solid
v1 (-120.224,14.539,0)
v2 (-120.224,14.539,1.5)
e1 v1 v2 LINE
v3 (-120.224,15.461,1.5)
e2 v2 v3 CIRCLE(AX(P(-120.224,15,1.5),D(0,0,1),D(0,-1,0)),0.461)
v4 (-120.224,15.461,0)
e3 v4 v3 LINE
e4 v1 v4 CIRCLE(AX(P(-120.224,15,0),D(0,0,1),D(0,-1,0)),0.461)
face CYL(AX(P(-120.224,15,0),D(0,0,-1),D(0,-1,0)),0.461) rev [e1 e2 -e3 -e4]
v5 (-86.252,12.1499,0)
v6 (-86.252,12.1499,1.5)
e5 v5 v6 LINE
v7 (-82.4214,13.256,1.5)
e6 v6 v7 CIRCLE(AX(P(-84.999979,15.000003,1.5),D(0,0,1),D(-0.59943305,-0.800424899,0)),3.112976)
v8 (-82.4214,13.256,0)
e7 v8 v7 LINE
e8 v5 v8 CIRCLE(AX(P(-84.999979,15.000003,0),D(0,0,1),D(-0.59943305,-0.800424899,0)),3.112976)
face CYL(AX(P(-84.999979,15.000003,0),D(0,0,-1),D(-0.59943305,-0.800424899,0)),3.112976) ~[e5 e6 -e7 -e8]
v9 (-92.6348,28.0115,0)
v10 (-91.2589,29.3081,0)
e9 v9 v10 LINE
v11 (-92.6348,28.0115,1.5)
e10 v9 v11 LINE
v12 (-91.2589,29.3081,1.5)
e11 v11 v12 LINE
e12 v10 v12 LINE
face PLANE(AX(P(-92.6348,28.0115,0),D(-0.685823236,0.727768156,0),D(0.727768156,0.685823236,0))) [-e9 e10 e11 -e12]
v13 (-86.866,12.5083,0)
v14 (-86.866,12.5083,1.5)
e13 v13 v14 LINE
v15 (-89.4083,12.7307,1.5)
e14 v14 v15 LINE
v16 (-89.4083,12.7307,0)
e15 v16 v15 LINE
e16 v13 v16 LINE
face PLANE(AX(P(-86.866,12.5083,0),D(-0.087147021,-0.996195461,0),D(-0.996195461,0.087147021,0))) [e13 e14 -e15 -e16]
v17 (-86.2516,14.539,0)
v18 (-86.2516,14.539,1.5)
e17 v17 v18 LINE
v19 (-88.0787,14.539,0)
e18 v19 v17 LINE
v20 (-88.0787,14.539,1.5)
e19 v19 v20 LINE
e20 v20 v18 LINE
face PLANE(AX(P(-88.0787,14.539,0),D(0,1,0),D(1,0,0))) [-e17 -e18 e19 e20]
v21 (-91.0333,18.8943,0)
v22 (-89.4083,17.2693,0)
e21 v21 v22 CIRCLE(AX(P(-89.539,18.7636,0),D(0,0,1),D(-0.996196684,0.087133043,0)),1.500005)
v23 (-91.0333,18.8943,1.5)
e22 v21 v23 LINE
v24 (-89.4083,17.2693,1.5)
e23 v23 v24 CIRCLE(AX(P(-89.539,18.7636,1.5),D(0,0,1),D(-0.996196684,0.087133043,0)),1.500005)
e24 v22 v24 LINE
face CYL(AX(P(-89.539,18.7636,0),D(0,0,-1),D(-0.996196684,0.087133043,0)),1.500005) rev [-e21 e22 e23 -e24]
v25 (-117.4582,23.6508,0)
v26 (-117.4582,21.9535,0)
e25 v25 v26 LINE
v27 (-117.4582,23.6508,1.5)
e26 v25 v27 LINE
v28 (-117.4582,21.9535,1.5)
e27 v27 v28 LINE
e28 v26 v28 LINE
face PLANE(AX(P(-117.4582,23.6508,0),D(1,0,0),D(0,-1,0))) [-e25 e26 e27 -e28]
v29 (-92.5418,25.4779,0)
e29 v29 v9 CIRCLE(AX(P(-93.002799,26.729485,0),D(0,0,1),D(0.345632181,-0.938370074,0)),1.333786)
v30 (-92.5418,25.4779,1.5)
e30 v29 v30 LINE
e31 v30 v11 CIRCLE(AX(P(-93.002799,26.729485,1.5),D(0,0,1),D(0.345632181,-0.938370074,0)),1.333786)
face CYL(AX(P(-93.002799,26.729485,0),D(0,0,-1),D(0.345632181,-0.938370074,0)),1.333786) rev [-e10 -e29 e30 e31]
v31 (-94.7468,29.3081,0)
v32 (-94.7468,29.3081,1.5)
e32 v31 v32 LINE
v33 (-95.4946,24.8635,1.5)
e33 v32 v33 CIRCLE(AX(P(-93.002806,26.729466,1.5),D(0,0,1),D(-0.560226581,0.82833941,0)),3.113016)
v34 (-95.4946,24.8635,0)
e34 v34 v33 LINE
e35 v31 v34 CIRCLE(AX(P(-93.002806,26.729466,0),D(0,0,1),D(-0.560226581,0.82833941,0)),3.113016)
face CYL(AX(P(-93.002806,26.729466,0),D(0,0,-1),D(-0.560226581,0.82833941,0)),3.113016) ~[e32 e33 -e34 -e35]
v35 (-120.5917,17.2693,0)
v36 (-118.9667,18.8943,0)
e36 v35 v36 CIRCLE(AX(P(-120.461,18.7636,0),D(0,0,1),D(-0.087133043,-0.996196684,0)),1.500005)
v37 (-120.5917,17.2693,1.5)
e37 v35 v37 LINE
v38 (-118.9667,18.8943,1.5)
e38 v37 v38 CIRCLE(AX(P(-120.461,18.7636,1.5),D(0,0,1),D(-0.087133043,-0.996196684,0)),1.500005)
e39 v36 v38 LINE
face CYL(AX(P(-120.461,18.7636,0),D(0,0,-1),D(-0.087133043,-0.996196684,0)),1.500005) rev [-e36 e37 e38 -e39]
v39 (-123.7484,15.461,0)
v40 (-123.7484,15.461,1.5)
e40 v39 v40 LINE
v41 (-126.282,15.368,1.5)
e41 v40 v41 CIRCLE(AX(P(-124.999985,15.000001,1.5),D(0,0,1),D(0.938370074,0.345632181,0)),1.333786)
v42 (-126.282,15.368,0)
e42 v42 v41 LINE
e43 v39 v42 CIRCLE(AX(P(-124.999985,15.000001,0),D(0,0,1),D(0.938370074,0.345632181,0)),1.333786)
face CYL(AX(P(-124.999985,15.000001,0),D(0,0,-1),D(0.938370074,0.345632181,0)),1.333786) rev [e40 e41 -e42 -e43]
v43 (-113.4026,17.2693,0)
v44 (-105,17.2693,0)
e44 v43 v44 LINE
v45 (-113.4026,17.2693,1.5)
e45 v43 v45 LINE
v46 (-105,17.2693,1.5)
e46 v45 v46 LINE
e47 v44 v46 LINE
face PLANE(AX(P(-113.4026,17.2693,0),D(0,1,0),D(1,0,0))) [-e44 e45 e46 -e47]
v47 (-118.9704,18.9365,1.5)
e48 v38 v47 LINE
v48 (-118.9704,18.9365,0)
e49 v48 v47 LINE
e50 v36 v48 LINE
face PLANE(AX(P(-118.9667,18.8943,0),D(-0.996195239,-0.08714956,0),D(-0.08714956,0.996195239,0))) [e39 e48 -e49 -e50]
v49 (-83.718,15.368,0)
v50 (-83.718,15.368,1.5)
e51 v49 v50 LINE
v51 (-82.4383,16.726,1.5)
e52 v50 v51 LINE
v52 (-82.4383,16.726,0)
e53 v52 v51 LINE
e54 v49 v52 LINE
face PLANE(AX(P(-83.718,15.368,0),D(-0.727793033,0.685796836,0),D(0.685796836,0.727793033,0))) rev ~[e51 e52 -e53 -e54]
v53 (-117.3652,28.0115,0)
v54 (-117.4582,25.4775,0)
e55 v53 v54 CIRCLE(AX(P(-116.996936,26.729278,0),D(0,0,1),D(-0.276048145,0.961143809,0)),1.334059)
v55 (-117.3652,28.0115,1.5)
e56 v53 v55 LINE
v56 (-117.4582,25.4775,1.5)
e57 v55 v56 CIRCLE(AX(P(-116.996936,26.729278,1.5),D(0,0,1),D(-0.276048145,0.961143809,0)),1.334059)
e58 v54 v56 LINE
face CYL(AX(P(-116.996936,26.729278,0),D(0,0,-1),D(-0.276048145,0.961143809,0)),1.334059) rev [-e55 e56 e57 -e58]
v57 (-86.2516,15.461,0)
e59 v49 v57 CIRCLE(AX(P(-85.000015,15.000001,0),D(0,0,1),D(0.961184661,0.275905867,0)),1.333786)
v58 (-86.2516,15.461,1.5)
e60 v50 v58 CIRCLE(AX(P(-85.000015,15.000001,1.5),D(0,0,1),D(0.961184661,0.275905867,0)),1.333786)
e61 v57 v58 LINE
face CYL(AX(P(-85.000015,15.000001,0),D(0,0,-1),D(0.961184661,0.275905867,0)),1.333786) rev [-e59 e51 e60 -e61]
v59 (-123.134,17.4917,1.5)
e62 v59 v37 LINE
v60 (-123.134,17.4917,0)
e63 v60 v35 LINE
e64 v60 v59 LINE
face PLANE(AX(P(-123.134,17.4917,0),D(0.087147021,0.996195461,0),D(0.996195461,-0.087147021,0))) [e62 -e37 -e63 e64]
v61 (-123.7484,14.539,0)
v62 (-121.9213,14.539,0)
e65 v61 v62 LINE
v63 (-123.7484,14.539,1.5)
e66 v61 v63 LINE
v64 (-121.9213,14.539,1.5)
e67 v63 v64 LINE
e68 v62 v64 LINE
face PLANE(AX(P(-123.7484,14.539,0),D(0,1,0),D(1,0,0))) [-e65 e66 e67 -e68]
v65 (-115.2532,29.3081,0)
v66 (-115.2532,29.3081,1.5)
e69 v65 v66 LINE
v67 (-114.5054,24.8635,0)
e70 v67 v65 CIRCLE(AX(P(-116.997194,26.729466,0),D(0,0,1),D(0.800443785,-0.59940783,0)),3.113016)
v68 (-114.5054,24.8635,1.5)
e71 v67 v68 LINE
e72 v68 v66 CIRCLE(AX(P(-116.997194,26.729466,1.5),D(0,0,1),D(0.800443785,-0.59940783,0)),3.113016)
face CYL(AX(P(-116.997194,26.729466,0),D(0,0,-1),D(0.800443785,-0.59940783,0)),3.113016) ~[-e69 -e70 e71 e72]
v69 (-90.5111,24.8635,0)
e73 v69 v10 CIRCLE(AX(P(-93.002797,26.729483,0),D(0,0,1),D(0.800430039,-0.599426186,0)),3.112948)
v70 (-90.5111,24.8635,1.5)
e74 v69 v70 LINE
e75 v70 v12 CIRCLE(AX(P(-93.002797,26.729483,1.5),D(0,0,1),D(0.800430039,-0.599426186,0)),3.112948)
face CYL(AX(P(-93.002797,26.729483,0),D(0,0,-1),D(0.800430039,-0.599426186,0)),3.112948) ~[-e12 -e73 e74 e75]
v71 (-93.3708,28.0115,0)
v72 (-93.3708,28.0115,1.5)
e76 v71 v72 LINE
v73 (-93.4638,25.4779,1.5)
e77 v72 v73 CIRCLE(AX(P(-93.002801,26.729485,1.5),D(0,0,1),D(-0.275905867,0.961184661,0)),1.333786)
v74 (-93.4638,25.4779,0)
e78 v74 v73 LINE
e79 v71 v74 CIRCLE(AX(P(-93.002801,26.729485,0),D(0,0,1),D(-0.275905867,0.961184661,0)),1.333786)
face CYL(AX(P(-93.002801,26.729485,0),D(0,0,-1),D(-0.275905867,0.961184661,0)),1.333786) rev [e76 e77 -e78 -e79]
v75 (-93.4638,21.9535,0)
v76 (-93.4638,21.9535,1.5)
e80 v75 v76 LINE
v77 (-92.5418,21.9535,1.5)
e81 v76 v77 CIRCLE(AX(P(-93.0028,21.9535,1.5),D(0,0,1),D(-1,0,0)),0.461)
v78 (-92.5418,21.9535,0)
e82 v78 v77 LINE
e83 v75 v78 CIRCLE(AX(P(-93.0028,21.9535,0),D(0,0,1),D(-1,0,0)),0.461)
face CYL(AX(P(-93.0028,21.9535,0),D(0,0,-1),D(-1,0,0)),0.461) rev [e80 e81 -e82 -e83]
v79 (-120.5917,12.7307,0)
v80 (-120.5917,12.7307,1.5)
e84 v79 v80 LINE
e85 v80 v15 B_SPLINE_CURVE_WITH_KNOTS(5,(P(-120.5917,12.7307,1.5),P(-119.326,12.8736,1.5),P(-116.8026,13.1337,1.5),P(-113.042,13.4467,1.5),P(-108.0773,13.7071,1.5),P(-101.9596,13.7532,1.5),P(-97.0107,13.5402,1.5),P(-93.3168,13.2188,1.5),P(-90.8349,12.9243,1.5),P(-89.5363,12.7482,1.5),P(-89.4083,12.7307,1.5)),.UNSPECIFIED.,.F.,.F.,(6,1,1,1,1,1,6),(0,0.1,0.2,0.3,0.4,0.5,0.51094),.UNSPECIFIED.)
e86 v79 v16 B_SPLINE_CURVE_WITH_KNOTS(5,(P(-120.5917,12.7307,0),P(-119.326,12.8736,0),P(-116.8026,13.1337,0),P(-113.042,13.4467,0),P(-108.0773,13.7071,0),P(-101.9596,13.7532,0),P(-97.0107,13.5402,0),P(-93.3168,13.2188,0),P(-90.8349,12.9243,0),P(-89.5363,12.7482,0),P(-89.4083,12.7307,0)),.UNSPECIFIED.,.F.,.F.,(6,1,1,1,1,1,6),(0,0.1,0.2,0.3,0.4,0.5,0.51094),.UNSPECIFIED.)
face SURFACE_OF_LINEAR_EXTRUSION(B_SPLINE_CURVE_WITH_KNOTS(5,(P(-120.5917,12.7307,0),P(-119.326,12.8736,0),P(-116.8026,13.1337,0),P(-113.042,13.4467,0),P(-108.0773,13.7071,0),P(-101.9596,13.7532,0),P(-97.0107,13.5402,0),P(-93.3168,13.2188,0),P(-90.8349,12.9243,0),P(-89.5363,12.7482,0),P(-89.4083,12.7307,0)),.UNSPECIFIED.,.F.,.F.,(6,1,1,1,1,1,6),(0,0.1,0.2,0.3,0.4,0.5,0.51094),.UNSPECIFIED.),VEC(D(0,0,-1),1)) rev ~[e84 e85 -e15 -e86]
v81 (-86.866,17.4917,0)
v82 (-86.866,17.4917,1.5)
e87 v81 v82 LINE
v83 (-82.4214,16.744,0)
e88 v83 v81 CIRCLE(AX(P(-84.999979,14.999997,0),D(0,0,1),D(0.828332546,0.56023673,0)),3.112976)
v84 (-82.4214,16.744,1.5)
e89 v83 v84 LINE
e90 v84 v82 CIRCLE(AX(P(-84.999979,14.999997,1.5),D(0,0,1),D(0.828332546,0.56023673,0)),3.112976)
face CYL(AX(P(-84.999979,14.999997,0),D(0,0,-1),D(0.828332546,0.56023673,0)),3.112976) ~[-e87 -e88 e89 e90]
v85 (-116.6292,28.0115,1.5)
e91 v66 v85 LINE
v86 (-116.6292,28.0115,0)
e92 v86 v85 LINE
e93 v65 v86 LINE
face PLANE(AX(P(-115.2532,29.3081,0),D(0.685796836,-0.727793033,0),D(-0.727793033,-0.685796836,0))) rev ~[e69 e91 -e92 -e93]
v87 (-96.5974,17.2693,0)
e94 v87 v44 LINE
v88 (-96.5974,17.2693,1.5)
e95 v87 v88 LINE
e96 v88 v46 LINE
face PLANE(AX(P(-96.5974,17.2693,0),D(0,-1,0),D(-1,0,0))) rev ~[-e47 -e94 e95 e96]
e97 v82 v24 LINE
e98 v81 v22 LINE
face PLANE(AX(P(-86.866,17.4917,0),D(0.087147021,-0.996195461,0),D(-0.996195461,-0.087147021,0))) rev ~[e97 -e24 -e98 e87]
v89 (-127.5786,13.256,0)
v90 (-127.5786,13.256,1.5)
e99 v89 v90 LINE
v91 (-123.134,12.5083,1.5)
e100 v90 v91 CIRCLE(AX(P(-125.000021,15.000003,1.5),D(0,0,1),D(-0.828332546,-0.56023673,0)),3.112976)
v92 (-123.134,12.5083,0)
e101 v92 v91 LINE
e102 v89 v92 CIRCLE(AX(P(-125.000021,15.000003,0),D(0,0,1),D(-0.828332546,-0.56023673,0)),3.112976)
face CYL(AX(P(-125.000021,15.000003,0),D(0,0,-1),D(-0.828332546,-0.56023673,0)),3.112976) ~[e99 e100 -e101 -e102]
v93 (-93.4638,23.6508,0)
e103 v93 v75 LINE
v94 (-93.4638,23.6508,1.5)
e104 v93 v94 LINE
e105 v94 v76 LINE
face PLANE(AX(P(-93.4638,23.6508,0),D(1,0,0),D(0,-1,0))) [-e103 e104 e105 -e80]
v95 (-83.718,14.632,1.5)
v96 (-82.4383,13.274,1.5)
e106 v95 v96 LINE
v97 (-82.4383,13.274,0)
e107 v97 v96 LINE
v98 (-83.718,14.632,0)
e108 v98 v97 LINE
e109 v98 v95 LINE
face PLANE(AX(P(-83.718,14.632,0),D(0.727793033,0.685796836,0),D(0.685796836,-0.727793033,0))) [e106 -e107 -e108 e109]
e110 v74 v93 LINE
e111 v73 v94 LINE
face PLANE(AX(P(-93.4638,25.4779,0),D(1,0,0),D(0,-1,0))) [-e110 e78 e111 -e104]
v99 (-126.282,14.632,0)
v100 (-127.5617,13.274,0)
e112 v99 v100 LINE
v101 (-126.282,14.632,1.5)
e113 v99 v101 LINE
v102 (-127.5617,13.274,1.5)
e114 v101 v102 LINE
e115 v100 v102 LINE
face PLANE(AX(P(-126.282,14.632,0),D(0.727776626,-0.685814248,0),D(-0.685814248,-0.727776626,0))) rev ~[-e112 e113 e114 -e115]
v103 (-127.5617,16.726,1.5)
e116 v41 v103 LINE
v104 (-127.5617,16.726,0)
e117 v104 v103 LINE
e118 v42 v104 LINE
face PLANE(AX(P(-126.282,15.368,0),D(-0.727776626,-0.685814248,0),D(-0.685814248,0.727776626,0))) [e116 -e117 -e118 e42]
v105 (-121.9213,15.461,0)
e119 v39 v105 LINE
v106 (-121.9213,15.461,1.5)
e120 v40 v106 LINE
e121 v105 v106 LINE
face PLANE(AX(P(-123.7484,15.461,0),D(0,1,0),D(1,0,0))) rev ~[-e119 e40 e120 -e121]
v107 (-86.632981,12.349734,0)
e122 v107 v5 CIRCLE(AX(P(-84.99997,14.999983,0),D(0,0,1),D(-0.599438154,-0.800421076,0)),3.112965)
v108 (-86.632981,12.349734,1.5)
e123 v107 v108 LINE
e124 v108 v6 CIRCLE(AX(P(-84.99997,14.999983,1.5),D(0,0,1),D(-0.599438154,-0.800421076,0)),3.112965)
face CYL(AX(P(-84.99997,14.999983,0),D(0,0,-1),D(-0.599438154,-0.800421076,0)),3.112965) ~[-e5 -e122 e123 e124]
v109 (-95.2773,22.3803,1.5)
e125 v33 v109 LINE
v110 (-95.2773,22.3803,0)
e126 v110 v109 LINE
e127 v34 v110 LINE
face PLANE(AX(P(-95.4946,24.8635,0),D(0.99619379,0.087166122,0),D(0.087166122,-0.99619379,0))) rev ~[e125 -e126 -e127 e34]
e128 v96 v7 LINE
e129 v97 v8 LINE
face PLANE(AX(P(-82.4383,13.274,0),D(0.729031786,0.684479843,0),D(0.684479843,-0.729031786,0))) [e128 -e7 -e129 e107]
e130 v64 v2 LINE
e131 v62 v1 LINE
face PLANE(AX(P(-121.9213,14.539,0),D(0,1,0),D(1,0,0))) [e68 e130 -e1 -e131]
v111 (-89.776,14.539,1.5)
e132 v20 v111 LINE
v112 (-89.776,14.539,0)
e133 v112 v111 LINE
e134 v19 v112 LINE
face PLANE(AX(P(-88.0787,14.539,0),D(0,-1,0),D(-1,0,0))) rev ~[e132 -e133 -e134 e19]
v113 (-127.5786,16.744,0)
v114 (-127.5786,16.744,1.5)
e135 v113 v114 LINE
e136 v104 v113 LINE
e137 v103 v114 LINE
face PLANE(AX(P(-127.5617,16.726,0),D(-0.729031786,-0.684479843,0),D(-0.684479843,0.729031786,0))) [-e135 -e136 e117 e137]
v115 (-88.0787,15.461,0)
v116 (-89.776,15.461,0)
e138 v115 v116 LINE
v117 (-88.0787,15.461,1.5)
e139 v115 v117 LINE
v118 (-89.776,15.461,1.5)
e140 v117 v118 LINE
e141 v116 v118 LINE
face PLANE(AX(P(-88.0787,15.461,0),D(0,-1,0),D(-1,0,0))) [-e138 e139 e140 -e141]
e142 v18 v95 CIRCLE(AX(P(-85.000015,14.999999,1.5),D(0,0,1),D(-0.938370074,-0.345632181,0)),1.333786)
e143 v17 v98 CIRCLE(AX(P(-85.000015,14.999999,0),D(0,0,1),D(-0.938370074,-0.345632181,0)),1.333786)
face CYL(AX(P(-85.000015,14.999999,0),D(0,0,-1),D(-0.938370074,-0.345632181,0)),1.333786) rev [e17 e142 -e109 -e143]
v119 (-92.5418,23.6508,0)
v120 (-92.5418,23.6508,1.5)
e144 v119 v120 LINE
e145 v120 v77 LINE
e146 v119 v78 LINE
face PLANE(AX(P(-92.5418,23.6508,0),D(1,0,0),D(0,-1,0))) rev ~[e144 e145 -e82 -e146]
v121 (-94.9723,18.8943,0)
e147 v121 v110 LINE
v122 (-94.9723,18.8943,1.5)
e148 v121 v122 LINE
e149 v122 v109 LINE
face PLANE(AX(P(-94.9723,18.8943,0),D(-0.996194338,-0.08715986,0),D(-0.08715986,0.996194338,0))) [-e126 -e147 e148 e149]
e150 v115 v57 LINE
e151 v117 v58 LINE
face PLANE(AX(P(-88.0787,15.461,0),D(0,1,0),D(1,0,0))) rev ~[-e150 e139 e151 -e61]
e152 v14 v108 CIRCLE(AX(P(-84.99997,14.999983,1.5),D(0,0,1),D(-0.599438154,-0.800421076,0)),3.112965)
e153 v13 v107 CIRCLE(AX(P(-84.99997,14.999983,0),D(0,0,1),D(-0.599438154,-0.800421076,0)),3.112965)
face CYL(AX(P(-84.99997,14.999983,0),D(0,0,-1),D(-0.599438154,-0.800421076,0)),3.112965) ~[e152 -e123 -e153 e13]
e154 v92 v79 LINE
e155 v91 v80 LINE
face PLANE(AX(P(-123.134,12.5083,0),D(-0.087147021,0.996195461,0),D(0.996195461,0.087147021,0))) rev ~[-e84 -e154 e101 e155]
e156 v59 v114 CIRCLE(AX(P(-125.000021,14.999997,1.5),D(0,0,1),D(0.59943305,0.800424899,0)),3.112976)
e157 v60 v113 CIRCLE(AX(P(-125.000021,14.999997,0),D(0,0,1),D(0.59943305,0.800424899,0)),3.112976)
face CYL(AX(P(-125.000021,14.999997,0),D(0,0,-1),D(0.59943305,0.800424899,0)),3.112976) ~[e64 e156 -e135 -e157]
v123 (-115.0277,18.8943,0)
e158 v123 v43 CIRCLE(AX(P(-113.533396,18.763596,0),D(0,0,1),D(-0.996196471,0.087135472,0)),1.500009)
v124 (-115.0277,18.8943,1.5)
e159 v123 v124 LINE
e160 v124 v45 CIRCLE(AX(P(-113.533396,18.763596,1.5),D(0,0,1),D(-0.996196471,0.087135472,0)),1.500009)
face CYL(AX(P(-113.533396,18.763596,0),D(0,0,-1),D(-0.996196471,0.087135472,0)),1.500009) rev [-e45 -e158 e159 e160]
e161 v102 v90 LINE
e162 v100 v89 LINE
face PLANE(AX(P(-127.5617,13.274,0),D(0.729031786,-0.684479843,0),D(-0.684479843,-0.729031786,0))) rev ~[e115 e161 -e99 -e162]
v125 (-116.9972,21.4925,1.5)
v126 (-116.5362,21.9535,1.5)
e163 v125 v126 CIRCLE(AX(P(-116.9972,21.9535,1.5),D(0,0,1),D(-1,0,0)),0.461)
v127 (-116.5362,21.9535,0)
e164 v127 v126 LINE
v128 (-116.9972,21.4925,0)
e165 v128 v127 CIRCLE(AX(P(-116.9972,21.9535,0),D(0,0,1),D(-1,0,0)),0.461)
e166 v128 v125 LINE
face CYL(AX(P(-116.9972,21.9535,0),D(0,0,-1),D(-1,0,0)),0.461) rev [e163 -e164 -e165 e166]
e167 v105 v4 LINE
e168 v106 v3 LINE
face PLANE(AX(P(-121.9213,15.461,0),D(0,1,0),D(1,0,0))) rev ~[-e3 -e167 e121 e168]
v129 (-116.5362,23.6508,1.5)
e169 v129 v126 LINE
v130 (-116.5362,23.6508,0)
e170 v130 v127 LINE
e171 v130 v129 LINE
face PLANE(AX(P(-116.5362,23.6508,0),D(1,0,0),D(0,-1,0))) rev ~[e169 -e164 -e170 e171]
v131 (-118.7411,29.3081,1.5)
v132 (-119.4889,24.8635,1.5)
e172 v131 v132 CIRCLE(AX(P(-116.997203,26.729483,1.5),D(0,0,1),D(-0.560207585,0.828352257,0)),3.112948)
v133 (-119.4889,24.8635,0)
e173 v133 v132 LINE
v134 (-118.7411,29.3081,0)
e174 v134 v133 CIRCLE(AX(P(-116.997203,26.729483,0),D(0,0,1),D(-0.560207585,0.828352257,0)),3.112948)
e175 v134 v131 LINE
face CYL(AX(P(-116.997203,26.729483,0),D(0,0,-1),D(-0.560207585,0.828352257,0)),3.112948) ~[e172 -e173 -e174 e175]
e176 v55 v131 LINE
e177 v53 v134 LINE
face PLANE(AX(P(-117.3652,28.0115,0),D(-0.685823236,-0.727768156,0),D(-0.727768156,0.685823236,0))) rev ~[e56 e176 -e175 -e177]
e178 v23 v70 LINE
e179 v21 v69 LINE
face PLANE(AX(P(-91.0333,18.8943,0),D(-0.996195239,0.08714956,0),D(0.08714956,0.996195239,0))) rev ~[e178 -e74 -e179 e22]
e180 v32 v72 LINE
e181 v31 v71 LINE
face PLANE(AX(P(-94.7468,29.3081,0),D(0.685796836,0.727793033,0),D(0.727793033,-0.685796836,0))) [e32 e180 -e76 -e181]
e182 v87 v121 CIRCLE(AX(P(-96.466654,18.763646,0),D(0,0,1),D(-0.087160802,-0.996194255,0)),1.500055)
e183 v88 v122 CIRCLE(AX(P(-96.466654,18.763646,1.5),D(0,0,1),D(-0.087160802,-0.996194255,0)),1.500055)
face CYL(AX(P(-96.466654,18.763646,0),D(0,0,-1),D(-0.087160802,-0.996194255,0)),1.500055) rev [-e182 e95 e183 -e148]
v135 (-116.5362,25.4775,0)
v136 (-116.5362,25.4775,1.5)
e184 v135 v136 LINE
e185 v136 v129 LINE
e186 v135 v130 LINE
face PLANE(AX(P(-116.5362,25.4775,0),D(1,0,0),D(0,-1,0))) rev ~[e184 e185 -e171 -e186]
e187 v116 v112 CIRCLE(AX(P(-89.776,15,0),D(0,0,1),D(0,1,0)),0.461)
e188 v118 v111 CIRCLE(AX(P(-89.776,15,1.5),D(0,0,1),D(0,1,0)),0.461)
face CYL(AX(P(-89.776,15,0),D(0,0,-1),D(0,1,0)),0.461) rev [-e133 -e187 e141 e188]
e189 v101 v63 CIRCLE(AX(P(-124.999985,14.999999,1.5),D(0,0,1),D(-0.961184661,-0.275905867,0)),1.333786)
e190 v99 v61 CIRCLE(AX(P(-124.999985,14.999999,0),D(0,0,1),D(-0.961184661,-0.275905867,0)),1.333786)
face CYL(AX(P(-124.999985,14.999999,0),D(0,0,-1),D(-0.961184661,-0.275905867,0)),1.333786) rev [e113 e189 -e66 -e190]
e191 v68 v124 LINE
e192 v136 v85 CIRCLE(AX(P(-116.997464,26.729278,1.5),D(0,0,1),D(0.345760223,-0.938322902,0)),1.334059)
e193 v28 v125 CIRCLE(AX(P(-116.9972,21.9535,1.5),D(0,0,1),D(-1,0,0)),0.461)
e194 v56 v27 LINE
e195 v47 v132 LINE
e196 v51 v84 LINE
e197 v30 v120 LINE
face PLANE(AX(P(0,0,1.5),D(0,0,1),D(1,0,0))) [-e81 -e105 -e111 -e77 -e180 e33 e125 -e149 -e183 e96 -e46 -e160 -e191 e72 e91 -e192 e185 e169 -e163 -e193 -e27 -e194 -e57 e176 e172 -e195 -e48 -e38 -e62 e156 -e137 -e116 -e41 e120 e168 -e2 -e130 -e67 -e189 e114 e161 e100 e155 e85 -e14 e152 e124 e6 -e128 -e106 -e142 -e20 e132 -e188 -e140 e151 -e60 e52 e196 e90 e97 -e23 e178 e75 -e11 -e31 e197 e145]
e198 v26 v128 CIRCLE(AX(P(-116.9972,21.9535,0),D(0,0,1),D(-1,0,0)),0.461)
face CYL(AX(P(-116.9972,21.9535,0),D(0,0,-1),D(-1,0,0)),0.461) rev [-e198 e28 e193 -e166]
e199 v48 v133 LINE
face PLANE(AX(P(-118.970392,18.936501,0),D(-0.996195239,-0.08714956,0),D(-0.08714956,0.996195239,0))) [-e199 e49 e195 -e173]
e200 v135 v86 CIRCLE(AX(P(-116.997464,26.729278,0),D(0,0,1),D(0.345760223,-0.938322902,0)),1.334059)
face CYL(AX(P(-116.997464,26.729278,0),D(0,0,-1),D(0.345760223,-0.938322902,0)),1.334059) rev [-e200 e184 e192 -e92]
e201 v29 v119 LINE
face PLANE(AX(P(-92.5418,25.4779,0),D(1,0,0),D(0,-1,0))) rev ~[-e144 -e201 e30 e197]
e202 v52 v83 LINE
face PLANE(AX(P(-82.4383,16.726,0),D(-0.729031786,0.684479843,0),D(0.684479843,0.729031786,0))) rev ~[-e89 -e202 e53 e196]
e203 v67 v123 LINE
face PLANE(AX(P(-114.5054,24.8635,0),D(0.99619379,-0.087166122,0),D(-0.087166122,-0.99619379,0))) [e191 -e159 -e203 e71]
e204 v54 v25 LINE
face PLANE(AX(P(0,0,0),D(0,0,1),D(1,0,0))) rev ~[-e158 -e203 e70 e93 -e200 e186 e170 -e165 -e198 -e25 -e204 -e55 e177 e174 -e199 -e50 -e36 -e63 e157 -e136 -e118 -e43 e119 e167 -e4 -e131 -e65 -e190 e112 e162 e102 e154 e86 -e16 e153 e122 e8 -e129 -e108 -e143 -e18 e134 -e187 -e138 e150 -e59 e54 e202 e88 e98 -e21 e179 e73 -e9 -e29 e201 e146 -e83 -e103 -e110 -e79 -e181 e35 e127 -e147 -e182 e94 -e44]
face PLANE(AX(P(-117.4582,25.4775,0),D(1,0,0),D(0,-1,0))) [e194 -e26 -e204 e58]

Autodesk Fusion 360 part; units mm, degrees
sketch "top view" plane through (0, 0, 0) normal (0, 0, 1) x (1, 0, 0)
  line L0 (-105, 33) -> (-105, -11) construction
  line L1 (-125, 15) -> (-126.282, 15) construction
  line L2 (-126.282, 15) -> (-126.282, 15.368) construction
  line L3 (-126.282, 15.368) -> (-127.5617, 16.726)
  line L4 (-126.282, 15.368) -> (-124.416, 15.368) construction
  line L5 (-127.5617, 16.726) -> (-127.5786, 16.744)
  line L6 (-126.282, 14.632) -> (-127.5617, 13.274)
  line L7 (-127.5617, 13.274) -> (-127.5786, 13.256)
  line L8 (-125, 15) -> (-123.748, 15) construction
  line L9 (-123.748, 15) -> (-123.748, 17.8501) construction
  line L10 (-123.748, 15) -> (-123.748, 12.1499) construction
  line L11 (-123.748, 15) -> (-123.748, 15.461) construction
  line L12 (-123.748, 15) -> (-123.748, 14.539) construction
  arc A0 (-126.282, 14.632) -> (-123.7484, 14.539) centre (-125, 15) ccw
  arc A1 (-123.7484, 15.461) -> (-126.282, 15.368) centre (-125, 15) ccw
  line L13 (-121.9213, 15.461) -> (-120.224, 15.461)
  line L14 (-121.9213, 14.539) -> (-120.224, 14.539)
  arc A2 (-127.5786, 13.256) -> (-123.134, 12.5083) centre (-125, 15) ccw
  arc A3 (-123.134, 17.4917) -> (-127.5786, 16.744) centre (-125, 15) ccw
  arc A4 (-120.224, 14.539) -> (-120.224, 15.461) centre (-120.224, 15) ccw
  line L15 (-125, 15) -> (-123.134, 15) construction
  line L16 (-123.134, 15) -> (-123.134, 17.4917) construction
  line L17 (-123.134, 17.4917) -> (-120.5917, 17.2693)
  line L18 (-123.134, 17.4917) -> (-120.582, 17.4917) construction
  line L19 (-123.134, 12.5083) -> (-120.5917, 12.7307)
  line L20 (-118.9667, 18.8943) -> (-119.4889, 24.8635)
  line L21 (-118.9667, 18.8943) -> (-111.0132, 18.8943) construction
  line L22 (-123.134, 17.4917) -> (-118.737, 17.4917) construction
  line L23 (-118.9667, 18.8942) -> (-118.9667, 18.8942)
  arc A5 (-120.5917, 17.2693) -> (-118.9667, 18.8943) centre (-120.461, 18.7636) ccw
  line L24 (-119.4004, 17.7029) -> (-121.3897, 15.7137) construction
  line L25 (-119.4004, 17.7029) -> (-116.4958, 14.7981) construction
  line L26 (-123.748, 15.461) -> (-121.9213, 15.461)
  line L27 (-123.748, 14.539) -> (-121.9213, 14.539)
  arc A6 (-117.4582, 21.9535) -> (-116.9972, 21.4925) centre (-116.9972, 21.9535) ccw
  line L28 (-116.9972, 20.106) -> (-116.9972, 11.6268) construction
  arc A7 (-115.0277, 18.8943) -> (-113.4026, 17.2693) centre (-113.5334, 18.7636) ccw
  line L29 (-113.4026, 17.2693) -> (-105, 17.2693)
  line L30 (-105, 33) -> (-105, -11) construction
  line L31 (-96.5974, 17.2693) -> (-105, 17.2693)
  arc A8 (-96.5974, 17.2693) -> (-94.9723, 18.8943) centre (-96.4667, 18.7636) ccw
  line L32 (-94.9723, 18.8943) -> (-95.2773, 22.3803)
  line L33 (-93.0028, 20.106) -> (-93.0028, 11.6268) construction
  line L34 (-91.7911, 18.8943) -> (-98.9868, 18.8943) construction
  line L35 (-91.0333, 17.2692) -> (-93.5042, 14.7981) construction
  line L36 (-91.0333, 17.4917) -> (-91.263, 17.4917) construction
  line L37 (-82.4383, 16.726) -> (-82.4214, 16.744)
  line L38 (-83.718, 15) -> (-83.718, 15.368) construction
  arc A9 (-86.866, 12.5083) -> (-86.252, 12.1499) centre (-85, 15) ccw
  line L39 (-91.0333, 18.8943) -> (-91.0333, 18.8943)
  line L40 (-82.4383, 13.274) -> (-82.4214, 13.256)
  spline S0 degree 5 poles (-120.5917, 12.7307) (-119.326, 12.8736) (-116.8026, 13.1337) (-113.042, 13.4467) (-108.0773, 13.7071) (-101.9596, 13.7532) (-97.0107, 13.5402) (-93.3168, 13.2188) (-90.8349, 12.9243) (-89.5363, 12.7482) (-89.4083, 12.7307) knots 0 0 0 0 0 0 0.1 0.2 0.3 0.4 0.5 0.51094 0.51094 0.51094 0.51094 0.51094 0.51094
  line L41 (-92.4447, 13.1474) -> (-86.3719, 12.3139)
  line L42 (-123.748, 14.539) -> (-123.7484, 14.539)
  line L43 (-123.748, 15.461) -> (-123.7484, 15.461)
  line L44 (-116.5362, 25.4775) -> (-116.5362, 25.4779)
  line L45 (-117.4582, 25.4775) -> (-117.4582, 25.4779)
  line L46 (-115.0277, 18.8943) -> (-115.0278, 18.8929)
  line L47 (-118.9704, 18.9365) -> (-118.9667, 18.8943)
  line L48 (-119.4004, 17.7029) -> (-116.9972, 20.106) construction
  line L49 (-125, 15) -> (-93.0028, 15) construction
  line L50 (-93.0028, 15) -> (-125, 15) construction
  line L51 (-91.7911, 18.8943) -> (-93.0028, 20.106) construction
  arc A10 (-114.5054, 24.8635) -> (-115.2532, 29.3081) centre (-116.9972, 26.7295) ccw
  arc A11 (-118.7411, 29.3081) -> (-119.4889, 24.8635) centre (-116.9972, 26.7295) ccw
  arc A12 (-117.3652, 28.0115) -> (-117.4582, 25.4779) centre (-116.9972, 26.7295) ccw
  arc A13 (-116.5362, 25.4779) -> (-116.6292, 28.0115) centre (-116.9972, 26.7295) ccw
  line L52 (-116.5362, 23.6508) -> (-116.5362, 21.9535)
  arc A14 (-117.4582, 21.9535) -> (-116.5362, 21.9535) centre (-116.9972, 21.9535) ccw
  line L53 (-117.4582, 23.6508) -> (-117.4582, 21.9535)
  line L54 (-116.5362, 25.4779) -> (-116.5362, 23.6508)
  line L55 (-117.4582, 25.4779) -> (-117.4582, 23.6508)
  line L56 (-115.2532, 29.3081) -> (-116.6292, 28.0115)
  line L57 (-117.3652, 28.0115) -> (-118.7411, 29.3081)
  line L58 (-114.5054, 24.8635) -> (-115.0278, 18.8929)
  arc A15 (-90.5111, 24.8635) -> (-91.2589, 29.3081) centre (-93.0028, 26.7295) ccw
  arc A16 (-94.7468, 29.3081) -> (-95.4946, 24.8635) centre (-93.0028, 26.7295) ccw
  line L59 (-94.7468, 29.3081) -> (-93.3708, 28.0115)
  line L60 (-92.6348, 28.0115) -> (-91.2589, 29.3081)
  arc A17 (-92.5418, 25.4779) -> (-92.6348, 28.0115) centre (-93.0028, 26.7295) ccw
  arc A18 (-93.3708, 28.0115) -> (-93.4638, 25.4779) centre (-93.0028, 26.7295) ccw
  line L61 (-93.4638, 25.4779) -> (-93.4638, 23.6508)
  line L62 (-92.5418, 25.4779) -> (-92.5418, 23.6508)
  line L63 (-91.0333, 18.8943) -> (-90.5111, 24.8635)
  line L64 (-92.5418, 23.6508) -> (-92.5418, 21.9535)
  line L65 (-93.4638, 23.6508) -> (-93.4638, 21.9535)
  arc A19 (-93.4638, 21.9535) -> (-92.5418, 21.9535) centre (-93.0028, 21.9535) ccw
  arc A20 (-91.0333, 18.8943) -> (-89.4083, 17.2693) centre (-89.539, 18.7636) ccw
  line L66 (-86.866, 17.4917) -> (-89.4083, 17.2693)
  arc A21 (-82.4214, 16.744) -> (-86.866, 17.4917) centre (-85, 15) ccw
  arc A22 (-83.718, 15.368) -> (-86.2516, 15.461) centre (-85, 15) ccw
  arc A23 (-86.2516, 14.539) -> (-83.718, 14.632) centre (-85, 15) ccw
  arc A24 (-86.866, 12.5083) -> (-82.4214, 13.256) centre (-85, 15) ccw
  line L67 (-88.0787, 14.539) -> (-89.776, 14.539)
  line L68 (-88.0787, 15.461) -> (-89.776, 15.461)
  arc A25 (-89.776, 15.461) -> (-89.776, 14.539) centre (-89.776, 15) ccw
  line L69 (-95.4946, 24.8635) -> (-94.9722, 18.8929)
  line L70 (-86.866, 12.5083) -> (-89.4083, 12.7307)
  line L71 (-88.0787, 15.461) -> (-86.2516, 15.461)
  line L72 (-88.0787, 14.539) -> (-86.2516, 14.539)
  line L73 (-83.718, 15.368) -> (-82.4214, 16.744)
  line L74 (-83.718, 14.632) -> (-82.4214, 13.256)
  point P0 (-95.4946, 24.8635)
  point P1 (-94.7468, 29.3081)
  point P2 (-93.0028, 26.7295)
  point P3 (-88.6103, 15.7137)
  dimension "d3" = 6.226
  dimension "d4" = 1.282
  dimension "d5" = 0.368
  dimension "d6" = 133.3
  dimension "d7" = 1.866
  dimension "d8" = 1.252
  dimension "d9" = 0.461
  dimension "d10" = 0.461
  dimension "d11" = 3.524
  dimension "d12" = 0.922
  dimension "d13" = 1.866
  dimension "d14" = 2.552
  dimension "d15" = 5
  dimension "d16" = 3
  dimension "d17" = 95
  dimension "d18" = 5.992
  dimension "d20" = 4.397
  dimension "d24" = 0.922
  dimension "d25" = 6.226
  dimension "d28" = 0.922
extrude "Extrude1" add sketch "top view" along normal blind 1.5 contours L3 L5 L6 L7 A0 A1 L13 L14 A2 A3 A4 L17 L19 L20 A5 L26 L27 A6 A7 L29 L31 A8 L32 L37 A9 L40 S0 L47 A10 A11 A12 A13 L52 A14 L53 L54 L55 L56 L57 L58 A15 A16 L59 L60 A17 A18 L61 L62 L63 L64 L65 A19 A20 L66 A21 A22 A23 A24 L67 L68 A25 L69 L70 L71 L72 L73 L74 makes body 1
copy_body "Body->Comp1" bodies 1 removing the originals makes body 2 in component "Piesa_5 (1)"
component "Piesa_5 (1)" placed x (1, 0, 0) y (0, 1, 0) z (0, 0, 1) at (0, 0, 0)
equation "d3 = 3.113 mm + 3.113 mm"
equation "d12 = 0.461 mm + 0.461 mm"
equation "d24 = 0.461 mm + 0.461 mm"
equation "d25 = 3.113 mm + 3.113 mm"
equation "d28 = 0.461 mm + 0.461 mm"
